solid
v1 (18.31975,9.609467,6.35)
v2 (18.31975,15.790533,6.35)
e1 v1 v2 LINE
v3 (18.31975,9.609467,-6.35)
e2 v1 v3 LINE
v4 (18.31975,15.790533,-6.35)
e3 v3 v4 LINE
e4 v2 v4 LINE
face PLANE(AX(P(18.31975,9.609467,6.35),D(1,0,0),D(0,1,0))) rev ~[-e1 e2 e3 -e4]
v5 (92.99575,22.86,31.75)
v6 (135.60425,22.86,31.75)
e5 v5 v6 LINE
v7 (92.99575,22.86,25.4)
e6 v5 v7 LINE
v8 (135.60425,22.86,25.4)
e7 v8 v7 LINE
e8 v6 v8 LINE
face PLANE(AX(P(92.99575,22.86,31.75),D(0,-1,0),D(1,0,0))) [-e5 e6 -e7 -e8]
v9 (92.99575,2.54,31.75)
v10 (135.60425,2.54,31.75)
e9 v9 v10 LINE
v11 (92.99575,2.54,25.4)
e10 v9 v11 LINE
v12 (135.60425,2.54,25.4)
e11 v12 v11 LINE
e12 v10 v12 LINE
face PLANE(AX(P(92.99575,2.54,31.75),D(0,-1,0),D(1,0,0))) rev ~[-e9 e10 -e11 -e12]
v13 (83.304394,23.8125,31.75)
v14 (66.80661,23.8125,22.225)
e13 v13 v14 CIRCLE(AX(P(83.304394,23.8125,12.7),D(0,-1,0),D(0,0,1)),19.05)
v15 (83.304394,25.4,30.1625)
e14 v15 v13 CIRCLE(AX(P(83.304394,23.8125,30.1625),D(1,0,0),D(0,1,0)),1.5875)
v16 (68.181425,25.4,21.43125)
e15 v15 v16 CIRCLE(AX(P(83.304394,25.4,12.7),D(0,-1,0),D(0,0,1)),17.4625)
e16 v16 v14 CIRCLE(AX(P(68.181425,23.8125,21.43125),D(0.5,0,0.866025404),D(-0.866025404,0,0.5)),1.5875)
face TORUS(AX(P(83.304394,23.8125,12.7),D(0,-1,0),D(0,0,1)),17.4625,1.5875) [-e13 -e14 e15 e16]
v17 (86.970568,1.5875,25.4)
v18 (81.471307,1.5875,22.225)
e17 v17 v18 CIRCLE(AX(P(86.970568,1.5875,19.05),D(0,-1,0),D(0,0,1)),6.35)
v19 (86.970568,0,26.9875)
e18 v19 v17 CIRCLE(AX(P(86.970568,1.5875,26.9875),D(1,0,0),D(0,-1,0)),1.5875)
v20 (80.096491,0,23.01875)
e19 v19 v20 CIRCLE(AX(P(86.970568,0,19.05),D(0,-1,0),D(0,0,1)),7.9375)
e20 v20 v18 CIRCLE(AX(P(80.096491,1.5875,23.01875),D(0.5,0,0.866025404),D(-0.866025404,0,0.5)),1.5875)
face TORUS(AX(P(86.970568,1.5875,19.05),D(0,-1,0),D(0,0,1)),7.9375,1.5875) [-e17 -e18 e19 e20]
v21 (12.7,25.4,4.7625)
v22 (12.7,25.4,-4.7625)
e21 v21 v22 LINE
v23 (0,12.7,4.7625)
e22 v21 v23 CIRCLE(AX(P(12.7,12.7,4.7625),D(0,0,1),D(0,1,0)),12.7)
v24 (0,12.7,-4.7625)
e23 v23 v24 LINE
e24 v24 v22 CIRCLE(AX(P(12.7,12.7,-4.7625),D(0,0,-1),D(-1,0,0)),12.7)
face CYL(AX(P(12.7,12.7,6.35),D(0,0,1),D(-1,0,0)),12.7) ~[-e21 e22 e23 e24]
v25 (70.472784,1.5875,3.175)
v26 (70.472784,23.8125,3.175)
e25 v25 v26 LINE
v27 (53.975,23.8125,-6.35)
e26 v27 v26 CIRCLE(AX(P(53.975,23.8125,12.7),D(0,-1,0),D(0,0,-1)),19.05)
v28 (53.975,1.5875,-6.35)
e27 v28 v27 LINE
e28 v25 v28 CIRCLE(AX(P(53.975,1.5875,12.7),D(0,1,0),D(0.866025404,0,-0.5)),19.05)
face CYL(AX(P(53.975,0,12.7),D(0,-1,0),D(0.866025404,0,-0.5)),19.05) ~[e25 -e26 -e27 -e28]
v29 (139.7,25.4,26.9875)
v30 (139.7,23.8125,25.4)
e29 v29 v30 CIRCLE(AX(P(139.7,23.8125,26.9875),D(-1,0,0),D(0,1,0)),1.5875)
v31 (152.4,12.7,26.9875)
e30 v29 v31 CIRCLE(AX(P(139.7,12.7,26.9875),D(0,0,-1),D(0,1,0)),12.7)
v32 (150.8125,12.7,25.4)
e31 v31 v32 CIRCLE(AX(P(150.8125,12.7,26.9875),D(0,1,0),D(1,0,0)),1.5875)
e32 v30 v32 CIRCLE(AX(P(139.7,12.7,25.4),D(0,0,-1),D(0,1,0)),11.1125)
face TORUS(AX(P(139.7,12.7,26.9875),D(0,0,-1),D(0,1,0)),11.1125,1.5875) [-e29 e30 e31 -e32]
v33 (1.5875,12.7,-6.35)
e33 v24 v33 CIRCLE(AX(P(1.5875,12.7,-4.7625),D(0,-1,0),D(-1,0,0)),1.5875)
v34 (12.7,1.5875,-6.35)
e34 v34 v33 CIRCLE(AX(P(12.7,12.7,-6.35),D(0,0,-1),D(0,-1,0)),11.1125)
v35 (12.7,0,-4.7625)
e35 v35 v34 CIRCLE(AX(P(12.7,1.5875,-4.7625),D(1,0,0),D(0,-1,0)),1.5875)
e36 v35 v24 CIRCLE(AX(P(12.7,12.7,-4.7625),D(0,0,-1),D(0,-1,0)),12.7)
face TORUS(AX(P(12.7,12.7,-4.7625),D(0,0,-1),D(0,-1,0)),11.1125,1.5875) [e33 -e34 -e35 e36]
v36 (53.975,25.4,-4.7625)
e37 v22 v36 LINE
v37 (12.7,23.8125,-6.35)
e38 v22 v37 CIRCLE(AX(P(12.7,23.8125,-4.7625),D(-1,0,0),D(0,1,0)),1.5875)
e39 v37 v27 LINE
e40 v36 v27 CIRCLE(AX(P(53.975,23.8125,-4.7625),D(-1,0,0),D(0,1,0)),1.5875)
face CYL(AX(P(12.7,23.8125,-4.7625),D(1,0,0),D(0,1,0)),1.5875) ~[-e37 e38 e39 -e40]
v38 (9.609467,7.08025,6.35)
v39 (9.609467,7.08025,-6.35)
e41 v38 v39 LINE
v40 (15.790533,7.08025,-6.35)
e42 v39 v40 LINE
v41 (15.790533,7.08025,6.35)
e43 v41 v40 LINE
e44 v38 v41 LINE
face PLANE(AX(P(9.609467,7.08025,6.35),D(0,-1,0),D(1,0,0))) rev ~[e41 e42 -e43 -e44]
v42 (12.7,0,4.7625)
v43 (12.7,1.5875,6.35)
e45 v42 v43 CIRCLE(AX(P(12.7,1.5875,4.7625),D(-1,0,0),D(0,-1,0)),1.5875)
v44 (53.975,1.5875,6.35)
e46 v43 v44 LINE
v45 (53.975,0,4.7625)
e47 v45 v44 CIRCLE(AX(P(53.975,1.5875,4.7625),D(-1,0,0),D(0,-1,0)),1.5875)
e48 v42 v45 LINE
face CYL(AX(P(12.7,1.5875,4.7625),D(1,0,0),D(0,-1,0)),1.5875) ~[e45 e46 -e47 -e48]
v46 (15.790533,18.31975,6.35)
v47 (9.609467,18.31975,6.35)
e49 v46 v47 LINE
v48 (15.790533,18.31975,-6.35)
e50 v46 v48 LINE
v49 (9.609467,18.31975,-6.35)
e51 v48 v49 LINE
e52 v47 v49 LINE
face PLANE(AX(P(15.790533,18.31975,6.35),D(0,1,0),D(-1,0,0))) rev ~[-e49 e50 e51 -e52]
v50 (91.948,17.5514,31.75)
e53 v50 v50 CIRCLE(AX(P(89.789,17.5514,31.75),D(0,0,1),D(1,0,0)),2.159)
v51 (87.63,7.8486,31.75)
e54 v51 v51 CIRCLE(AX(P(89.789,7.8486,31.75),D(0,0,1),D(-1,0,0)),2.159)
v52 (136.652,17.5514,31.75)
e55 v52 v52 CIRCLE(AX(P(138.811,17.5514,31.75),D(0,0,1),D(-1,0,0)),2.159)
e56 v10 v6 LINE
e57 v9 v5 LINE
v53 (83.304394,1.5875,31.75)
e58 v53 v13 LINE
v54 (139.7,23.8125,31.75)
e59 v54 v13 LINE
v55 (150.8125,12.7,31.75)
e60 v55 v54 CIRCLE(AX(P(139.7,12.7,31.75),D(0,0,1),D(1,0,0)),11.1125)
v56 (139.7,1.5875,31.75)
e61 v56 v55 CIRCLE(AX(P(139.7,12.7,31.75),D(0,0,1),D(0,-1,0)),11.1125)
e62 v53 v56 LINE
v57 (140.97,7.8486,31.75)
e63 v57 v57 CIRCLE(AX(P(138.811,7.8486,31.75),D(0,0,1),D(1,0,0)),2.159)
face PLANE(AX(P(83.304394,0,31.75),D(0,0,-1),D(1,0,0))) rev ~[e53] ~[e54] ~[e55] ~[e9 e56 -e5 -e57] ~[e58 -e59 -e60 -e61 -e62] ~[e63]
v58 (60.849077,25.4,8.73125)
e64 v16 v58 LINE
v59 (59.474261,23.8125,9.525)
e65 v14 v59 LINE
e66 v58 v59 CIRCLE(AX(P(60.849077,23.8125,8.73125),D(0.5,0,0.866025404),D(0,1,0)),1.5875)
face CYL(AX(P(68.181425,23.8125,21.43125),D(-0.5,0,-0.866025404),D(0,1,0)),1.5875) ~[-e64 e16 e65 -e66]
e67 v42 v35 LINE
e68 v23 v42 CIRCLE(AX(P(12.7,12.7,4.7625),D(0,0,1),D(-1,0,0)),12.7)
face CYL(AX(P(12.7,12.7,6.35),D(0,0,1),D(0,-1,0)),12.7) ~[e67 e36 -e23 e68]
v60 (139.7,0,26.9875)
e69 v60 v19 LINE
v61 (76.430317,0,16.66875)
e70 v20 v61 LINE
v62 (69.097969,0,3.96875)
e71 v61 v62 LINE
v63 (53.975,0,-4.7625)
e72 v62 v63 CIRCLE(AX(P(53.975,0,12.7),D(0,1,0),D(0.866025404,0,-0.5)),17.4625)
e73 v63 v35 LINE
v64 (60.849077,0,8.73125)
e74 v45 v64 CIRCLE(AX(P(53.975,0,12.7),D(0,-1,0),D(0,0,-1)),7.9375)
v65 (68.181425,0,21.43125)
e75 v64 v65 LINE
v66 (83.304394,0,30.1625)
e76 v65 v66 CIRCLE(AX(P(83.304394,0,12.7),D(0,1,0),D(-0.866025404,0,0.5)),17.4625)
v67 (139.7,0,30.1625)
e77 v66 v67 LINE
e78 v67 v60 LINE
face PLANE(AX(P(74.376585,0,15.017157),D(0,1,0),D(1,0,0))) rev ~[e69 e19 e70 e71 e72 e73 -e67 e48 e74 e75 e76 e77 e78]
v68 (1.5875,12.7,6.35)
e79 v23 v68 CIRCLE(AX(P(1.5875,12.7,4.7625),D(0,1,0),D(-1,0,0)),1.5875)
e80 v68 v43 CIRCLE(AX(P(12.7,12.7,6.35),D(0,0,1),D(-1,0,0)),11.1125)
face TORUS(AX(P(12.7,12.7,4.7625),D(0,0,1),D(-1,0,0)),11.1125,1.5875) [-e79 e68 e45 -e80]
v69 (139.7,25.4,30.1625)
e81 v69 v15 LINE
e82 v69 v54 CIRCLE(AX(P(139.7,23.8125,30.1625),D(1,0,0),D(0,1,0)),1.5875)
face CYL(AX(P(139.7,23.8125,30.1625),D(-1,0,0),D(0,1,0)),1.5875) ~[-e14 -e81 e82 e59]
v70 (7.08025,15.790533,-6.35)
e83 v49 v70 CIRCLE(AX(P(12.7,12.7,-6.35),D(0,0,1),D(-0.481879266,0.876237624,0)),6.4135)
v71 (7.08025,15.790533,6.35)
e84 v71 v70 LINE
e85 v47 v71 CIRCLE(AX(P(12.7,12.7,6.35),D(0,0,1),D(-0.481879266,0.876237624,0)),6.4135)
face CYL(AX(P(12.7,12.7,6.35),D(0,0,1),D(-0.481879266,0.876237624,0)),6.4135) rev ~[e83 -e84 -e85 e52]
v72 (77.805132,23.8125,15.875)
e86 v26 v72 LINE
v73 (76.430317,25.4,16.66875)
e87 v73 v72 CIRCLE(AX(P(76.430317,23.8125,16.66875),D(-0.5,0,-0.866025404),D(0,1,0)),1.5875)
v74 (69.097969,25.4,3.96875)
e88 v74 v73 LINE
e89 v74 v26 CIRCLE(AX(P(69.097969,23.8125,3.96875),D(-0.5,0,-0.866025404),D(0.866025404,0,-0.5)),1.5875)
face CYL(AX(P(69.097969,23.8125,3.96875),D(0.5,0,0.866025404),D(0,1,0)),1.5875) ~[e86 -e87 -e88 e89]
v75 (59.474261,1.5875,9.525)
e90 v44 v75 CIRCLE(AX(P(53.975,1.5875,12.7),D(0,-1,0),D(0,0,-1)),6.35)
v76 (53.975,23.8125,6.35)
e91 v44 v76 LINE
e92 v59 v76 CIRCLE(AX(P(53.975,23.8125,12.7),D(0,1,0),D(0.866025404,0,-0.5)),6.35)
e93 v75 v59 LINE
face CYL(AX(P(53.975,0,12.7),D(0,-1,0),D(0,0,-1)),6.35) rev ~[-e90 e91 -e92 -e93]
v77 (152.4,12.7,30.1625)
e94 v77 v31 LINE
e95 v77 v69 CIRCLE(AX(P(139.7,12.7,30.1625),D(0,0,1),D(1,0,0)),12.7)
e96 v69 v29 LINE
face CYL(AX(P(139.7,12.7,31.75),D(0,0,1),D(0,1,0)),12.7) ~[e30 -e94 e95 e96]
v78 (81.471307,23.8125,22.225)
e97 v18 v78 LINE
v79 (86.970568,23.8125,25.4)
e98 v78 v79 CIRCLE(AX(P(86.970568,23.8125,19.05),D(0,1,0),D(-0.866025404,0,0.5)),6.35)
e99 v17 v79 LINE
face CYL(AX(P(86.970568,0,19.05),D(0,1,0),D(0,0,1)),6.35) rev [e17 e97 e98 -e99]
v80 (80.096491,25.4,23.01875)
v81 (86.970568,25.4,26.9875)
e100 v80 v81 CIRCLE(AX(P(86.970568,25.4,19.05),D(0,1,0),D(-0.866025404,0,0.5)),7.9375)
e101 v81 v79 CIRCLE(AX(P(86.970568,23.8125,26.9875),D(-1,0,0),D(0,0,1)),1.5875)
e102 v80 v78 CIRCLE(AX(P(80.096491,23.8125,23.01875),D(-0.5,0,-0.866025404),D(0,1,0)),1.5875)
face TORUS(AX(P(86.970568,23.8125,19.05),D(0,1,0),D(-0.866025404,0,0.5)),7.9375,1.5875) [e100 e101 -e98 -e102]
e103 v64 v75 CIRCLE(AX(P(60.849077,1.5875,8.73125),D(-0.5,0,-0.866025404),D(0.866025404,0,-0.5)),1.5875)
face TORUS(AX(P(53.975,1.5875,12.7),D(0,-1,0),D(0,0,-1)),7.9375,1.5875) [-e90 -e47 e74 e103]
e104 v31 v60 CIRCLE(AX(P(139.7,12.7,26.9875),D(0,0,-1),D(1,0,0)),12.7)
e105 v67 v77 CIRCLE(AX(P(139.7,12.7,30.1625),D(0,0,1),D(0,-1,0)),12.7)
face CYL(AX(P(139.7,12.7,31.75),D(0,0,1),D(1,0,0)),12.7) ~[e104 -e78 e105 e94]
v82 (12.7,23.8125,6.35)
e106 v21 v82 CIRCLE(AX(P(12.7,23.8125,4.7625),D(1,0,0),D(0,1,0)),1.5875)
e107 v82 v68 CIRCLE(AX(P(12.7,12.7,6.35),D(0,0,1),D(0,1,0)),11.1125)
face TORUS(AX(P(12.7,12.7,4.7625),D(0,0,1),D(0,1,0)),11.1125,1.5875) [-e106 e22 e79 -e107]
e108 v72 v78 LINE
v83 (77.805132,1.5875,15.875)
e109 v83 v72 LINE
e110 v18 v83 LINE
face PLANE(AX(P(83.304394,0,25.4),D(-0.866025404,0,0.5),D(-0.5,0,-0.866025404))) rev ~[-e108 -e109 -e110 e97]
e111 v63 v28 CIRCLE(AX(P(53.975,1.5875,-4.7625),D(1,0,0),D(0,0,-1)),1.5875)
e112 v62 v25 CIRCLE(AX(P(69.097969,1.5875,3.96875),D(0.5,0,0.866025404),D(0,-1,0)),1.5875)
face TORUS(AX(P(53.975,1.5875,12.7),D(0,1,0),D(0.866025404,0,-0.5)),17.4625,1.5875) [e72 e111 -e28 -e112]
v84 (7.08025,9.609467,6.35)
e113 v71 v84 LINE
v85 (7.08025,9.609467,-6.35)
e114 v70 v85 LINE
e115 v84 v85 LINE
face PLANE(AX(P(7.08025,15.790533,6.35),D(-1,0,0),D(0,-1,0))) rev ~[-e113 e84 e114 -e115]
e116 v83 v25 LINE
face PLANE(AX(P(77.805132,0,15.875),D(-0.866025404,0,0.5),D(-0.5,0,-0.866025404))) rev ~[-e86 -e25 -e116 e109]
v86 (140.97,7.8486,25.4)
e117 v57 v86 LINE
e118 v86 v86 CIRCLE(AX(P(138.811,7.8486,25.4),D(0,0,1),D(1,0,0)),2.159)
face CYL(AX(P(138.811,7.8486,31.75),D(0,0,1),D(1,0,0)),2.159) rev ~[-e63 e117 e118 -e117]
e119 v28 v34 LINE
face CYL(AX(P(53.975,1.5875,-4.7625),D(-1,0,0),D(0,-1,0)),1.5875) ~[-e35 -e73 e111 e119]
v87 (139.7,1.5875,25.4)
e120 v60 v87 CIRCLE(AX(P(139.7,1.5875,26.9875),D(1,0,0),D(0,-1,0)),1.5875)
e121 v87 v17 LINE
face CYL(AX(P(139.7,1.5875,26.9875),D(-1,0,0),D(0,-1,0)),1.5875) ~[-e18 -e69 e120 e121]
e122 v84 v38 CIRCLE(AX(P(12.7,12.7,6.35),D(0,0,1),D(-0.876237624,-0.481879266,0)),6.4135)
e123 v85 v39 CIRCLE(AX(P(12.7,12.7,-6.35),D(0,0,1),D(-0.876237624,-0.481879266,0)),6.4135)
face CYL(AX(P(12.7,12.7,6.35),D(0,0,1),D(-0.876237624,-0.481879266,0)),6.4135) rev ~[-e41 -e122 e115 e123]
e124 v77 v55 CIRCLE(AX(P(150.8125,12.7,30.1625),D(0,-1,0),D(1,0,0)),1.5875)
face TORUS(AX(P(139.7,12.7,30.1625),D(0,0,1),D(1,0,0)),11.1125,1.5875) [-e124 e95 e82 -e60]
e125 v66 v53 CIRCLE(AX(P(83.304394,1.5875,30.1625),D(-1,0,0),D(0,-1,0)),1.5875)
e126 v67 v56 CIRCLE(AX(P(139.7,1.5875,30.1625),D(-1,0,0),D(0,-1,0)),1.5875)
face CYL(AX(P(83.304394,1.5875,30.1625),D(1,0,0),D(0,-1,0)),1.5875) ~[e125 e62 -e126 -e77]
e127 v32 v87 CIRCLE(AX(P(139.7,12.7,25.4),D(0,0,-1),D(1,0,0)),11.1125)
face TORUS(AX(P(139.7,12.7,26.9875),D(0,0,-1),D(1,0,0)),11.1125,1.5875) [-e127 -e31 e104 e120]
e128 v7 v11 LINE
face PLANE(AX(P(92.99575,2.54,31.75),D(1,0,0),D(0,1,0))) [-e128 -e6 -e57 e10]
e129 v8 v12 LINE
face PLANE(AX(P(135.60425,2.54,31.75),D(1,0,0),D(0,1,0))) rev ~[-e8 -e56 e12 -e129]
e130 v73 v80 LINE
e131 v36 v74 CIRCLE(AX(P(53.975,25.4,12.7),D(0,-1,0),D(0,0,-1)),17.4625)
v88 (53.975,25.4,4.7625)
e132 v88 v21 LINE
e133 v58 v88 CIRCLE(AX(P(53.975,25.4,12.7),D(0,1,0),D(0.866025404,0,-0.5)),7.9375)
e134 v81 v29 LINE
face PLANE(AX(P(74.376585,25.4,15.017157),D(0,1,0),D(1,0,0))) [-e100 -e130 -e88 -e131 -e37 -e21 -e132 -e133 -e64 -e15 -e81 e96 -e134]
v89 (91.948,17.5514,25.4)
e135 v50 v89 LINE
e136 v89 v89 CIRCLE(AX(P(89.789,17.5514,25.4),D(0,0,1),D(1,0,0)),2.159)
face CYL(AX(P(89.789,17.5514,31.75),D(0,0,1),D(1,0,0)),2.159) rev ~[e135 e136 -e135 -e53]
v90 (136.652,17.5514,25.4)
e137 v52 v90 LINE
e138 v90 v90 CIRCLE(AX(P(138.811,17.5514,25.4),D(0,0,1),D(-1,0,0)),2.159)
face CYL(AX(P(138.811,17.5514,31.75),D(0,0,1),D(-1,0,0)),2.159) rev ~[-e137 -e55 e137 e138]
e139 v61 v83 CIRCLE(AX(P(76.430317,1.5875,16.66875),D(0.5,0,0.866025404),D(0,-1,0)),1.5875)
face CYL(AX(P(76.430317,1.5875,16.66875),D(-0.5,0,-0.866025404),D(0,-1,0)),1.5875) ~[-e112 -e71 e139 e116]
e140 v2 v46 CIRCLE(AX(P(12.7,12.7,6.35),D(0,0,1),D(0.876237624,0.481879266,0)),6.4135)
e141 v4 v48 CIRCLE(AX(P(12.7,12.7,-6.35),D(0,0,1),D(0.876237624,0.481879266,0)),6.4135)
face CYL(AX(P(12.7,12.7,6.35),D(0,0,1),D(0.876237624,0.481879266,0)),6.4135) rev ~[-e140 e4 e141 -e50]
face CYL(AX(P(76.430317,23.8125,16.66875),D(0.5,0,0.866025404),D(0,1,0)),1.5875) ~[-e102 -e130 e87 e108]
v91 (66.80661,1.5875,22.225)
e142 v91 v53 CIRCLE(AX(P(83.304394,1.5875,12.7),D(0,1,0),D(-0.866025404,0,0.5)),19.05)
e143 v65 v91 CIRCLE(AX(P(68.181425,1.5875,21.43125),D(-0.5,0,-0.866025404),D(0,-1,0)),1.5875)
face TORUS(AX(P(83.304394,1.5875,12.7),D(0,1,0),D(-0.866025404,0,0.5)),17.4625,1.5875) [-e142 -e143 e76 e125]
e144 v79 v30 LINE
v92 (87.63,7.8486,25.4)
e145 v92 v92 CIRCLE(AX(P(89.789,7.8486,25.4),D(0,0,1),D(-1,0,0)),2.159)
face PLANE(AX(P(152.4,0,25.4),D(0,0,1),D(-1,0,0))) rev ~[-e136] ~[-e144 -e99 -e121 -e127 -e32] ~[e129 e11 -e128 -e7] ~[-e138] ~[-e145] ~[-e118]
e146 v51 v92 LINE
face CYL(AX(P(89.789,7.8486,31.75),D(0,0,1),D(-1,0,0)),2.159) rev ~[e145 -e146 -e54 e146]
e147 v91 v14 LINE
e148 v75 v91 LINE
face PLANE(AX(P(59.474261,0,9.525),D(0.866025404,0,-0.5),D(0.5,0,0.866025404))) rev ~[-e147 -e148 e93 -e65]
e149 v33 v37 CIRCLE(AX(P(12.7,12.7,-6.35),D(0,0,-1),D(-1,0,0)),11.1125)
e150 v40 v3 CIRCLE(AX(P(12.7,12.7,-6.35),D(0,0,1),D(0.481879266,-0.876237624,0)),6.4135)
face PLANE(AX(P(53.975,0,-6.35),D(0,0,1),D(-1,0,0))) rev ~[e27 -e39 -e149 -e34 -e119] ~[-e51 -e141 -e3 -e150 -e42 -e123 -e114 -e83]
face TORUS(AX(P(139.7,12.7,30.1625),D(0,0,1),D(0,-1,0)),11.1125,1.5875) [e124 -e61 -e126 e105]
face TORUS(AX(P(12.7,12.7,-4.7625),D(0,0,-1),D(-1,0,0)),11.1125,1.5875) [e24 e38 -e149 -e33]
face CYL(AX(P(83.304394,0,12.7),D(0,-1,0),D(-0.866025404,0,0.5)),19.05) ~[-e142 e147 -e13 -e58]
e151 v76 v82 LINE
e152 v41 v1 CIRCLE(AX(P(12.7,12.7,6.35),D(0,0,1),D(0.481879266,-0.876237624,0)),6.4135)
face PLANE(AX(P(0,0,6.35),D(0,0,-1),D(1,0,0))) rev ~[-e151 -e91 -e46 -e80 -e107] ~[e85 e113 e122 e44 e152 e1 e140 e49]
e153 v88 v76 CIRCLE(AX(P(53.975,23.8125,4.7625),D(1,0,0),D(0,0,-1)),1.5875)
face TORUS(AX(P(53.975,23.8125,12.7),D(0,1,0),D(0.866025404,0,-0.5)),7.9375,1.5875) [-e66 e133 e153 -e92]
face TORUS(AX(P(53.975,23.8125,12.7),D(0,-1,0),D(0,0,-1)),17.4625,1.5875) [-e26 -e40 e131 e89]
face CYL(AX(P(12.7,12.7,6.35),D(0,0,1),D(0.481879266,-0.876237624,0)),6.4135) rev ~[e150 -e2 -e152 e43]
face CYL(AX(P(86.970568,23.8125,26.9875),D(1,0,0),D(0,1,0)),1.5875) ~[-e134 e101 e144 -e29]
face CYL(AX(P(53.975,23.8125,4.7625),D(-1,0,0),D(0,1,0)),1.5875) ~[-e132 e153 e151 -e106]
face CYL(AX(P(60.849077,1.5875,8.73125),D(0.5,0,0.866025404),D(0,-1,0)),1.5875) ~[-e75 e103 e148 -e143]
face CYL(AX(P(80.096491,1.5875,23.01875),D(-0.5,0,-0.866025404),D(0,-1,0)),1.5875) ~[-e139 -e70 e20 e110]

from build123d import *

# Parameters (mm, degrees)
BOSS_EXTRUDE1_DEPTH = 25.4
CUT_EXTRUDE1_DEPTH  = 25.4
CUT_EXTRUDE2_REACH  = 158.576
CUT_EXTRUDE6_REACH  = 161.131
CUT_EXTRUDE7_REACH  = 161.131
SKETCH8_R           = 2.159
SKETCH8_W           = 42.6085
SKETCH8_H           = 20.32
FILLET2_R           = 6.35
FILLET1_R           = 1.5875


with BuildPart() as part:
    # Sketch1 → Boss-Extrude1 (new body)
    with BuildSketch(Plane(origin=(0, 0, 0), x_dir=(1, 0, 0), z_dir=(0, 1, 0))):
        with BuildLine():
            Line((152.4, -25.4), (83.304393675, -25.4))
            Line((83.304393675, -25.4), (77.805132361, -15.875))
            Line((77.805132361, -15.875), (70.472783942, -3.175))
            ThreePointArc((70.472783942, -3.175), (63.5, 3.797783942), (53.975, 6.35))
            Line((53.975, 6.35), (0, 6.35))
            Line((0, 6.35), (0, -6.35))
            Line((0, -6.35), (53.975, -6.35))
            ThreePointArc((53.975, -6.35), (57.15, -7.200738686), (59.474261314, -9.525))
            Line((59.474261314, -9.525), (66.806609733, -22.225))
            ThreePointArc((66.806609733, -22.225), (73.779393675, -29.197783942), (83.304393675, -31.75))
            Line((83.304393675, -31.75), (152.4, -31.75))
            Line((152.4, -31.75), (152.4, -25.4))
        make_face()
    extrude(amount=BOSS_EXTRUDE1_DEPTH)

    # Sketch3 → Cut-Extrude1 (cut)
    with BuildSketch(Plane.XY.offset(6.35)):
        with BuildLine():
            ThreePointArc((7.08025, 9.609467329), (8.164970659, 8.164970659), (9.609467329, 7.08025))
            Line((9.609467329, 7.08025), (15.790532671, 7.08025))
            ThreePointArc((15.790532671, 7.08025), (17.235029341, 8.164970659), (18.31975, 9.609467329))
            Line((18.31975, 9.609467329), (18.31975, 15.790532671))
            ThreePointArc((18.31975, 15.790532671), (17.235029341, 17.235029341), (15.790532671, 18.31975))
            Line((15.790532671, 18.31975), (9.609467329, 18.31975))
            ThreePointArc((9.609467329, 18.31975), (8.164970659, 17.235029341), (7.08025, 15.790532671))
            Line((7.08025, 15.790532671), (7.08025, 9.609467329))
        make_face()
    extrude(amount=-CUT_EXTRUDE1_DEPTH, mode=Mode.SUBTRACT)

    # Sketch4 → Cut-Extrude2 (cut, up to next)
    with BuildSketch(Plane.XY.offset(6.35), mode=Mode.PRIVATE) as cut_extrude2_sk1:
        with BuildLine():
            Line((0, 12.7), (0, 0))
            Line((0, 0), (12.7, 0))
            ThreePointArc((12.7, 0), (3.719743879, 3.719743879), (0, 12.7))
        make_face()
    cut_extrude2_tool1 = extrude(cut_extrude2_sk1.sketch, amount=-CUT_EXTRUDE2_REACH, mode=Mode.PRIVATE) & part.part
    # Sketch4 → Cut-Extrude2 (cut, up to next)
    with BuildSketch(Plane.XY.offset(6.35), mode=Mode.PRIVATE) as cut_extrude2_sk2:
        with BuildLine():
            Line((0, 25.4), (0, 12.7))
            ThreePointArc((0, 12.7), (3.719743879, 21.680256121), (12.7, 25.4))
            Line((12.7, 25.4), (0, 25.4))
        make_face()
    cut_extrude2_tool2 = extrude(cut_extrude2_sk2.sketch, amount=-CUT_EXTRUDE2_REACH, mode=Mode.PRIVATE) & part.part
    add(cut_extrude2_tool1.solids().sort_by_distance((2.836773, 2.836773, 6.35))[0], mode=Mode.SUBTRACT)
    add(cut_extrude2_tool2.solids().sort_by_distance((2.836773, 22.563227, 6.35))[0], mode=Mode.SUBTRACT)

    # Sketch7 → Cut-Extrude6 (cut, up to next)
    with BuildSketch(Plane.XY.offset(31.75), mode=Mode.PRIVATE) as cut_extrude6_sk1:
        with BuildLine():
            ThreePointArc((139.7, 25.4), (148.680256121, 21.680256121), (152.4, 12.7))
            Line((152.4, 12.7), (152.4, 25.4))
            Line((152.4, 25.4), (139.7, 25.4))
        make_face()
    cut_extrude6_tool1 = extrude(cut_extrude6_sk1.sketch, amount=-CUT_EXTRUDE6_REACH, mode=Mode.PRIVATE) & part.part
    # Sketch7 → Cut-Extrude6 (cut, up to next)
    with BuildSketch(Plane.XY.offset(31.75), mode=Mode.PRIVATE) as cut_extrude6_sk2:
        with BuildLine():
            ThreePointArc((152.4, 12.7), (148.680256121, 3.719743879), (139.7, 0))
            Line((139.7, 0), (152.4, 0))
            Line((152.4, 0), (152.4, 12.7))
        make_face()
    cut_extrude6_tool2 = extrude(cut_extrude6_sk2.sketch, amount=-CUT_EXTRUDE6_REACH, mode=Mode.PRIVATE) & part.part
    add(cut_extrude6_tool1.solids().sort_by_distance((149.563227, 22.563227, 31.75))[0], mode=Mode.SUBTRACT)
    add(cut_extrude6_tool2.solids().sort_by_distance((149.563227, 2.836773, 31.75))[0], mode=Mode.SUBTRACT)

    # Sketch8 → Cut-Extrude7 (cut, up to next)
    with BuildSketch(Plane.XY.offset(31.75), mode=Mode.PRIVATE) as cut_extrude7_sk1:
        with Locations((138.811, 7.8486)):
            Circle(SKETCH8_R)
    cut_extrude7_tool1 = extrude(cut_extrude7_sk1.sketch, amount=-CUT_EXTRUDE7_REACH, mode=Mode.PRIVATE) & part.part
    # Sketch8 → Cut-Extrude7 (cut, up to next)
    with BuildSketch(Plane.XY.offset(31.75), mode=Mode.PRIVATE) as cut_extrude7_sk2:
        with Locations(Location((138.811, 17.5514, 0), (0, 0, 180))):
            Circle(SKETCH8_R)
    cut_extrude7_tool2 = extrude(cut_extrude7_sk2.sketch, amount=-CUT_EXTRUDE7_REACH, mode=Mode.PRIVATE) & part.part
    # Sketch8 → Cut-Extrude7 (cut, up to next)
    with BuildSketch(Plane.XY.offset(31.75), mode=Mode.PRIVATE) as cut_extrude7_sk3:
        with Locations(Location((89.789, 7.8486, 0), (0, 0, 180))):
            Circle(SKETCH8_R)
    cut_extrude7_tool3 = extrude(cut_extrude7_sk3.sketch, amount=-CUT_EXTRUDE7_REACH, mode=Mode.PRIVATE) & part.part
    # Sketch8 → Cut-Extrude7 (cut, up to next)
    with BuildSketch(Plane.XY.offset(31.75), mode=Mode.PRIVATE) as cut_extrude7_sk4:
        with Locations((89.789, 17.5514)):
            Circle(SKETCH8_R)
    cut_extrude7_tool4 = extrude(cut_extrude7_sk4.sketch, amount=-CUT_EXTRUDE7_REACH, mode=Mode.PRIVATE) & part.part
    # Sketch8 → Cut-Extrude7 (cut, up to next)
    with BuildSketch(Plane.XY.offset(31.75), mode=Mode.PRIVATE) as cut_extrude7_sk5:
        with Locations((114.3, 12.7)):
            Rectangle(SKETCH8_W, SKETCH8_H)
    cut_extrude7_tool5 = extrude(cut_extrude7_sk5.sketch, amount=-CUT_EXTRUDE7_REACH, mode=Mode.PRIVATE) & part.part
    add(cut_extrude7_tool1.solids().sort_by_distance((138.811, 7.8486, 31.75))[0], mode=Mode.SUBTRACT)
    add(cut_extrude7_tool2.solids().sort_by_distance((138.811, 17.5514, 31.75))[0], mode=Mode.SUBTRACT)
    add(cut_extrude7_tool3.solids().sort_by_distance((89.789, 7.8486, 31.75))[0], mode=Mode.SUBTRACT)
    add(cut_extrude7_tool4.solids().sort_by_distance((89.789, 17.5514, 31.75))[0], mode=Mode.SUBTRACT)
    add(cut_extrude7_tool5.solids().sort_by_distance((114.3, 12.7, 31.75))[0], mode=Mode.SUBTRACT)

    # Fillet2
    fillet2_edges = [part.edges().sort_by_distance(p)[0] for p in [
        (83.304393675, 12.7, 25.4),
    ]]
    fillet(fillet2_edges, radius=FILLET2_R)

    # Fillet1
    fillet1_edges = [part.edges().sort_by_distance(p)[0] for p in [
        (75.972045256, 0, 12.7),
        (111.502196837, 0, 31.75),
        (113.335283942, 25.4, 25.4),
        (113.335283942, 0, 25.4),
        (83.795567884, 0, 24.549261314),
        (83.795567884, 25.4, 24.549261314),
        (73.779393675, 0, 29.197783942),
        (63.140435523, 0, 15.875),
        (57.15, 0, 7.200738686),
        (63.5, 0, -3.797783942),
        (57.15, 25.4, 7.200738686),
        (63.140435523, 25.4, 15.875),
        (73.779393675, 25.4, 29.197783942),
        (111.502196837, 25.4, 31.75),
        (75.972045256, 25.4, 12.7),
        (63.5, 25.4, -3.797783942),
        (33.3375, 25.4, -6.35),
        (33.3375, 25.4, 6.35),
        (0, 12.7, 6.35),
        (0, 12.7, -6.35),
        (33.3375, 0, 6.35),
        (33.3375, 0, -6.35),
        (152.4, 12.7, 31.75),
        (152.4, 12.7, 25.4),
    ]]
    fillet(fillet1_edges, radius=FILLET1_R)


solid = part.part
